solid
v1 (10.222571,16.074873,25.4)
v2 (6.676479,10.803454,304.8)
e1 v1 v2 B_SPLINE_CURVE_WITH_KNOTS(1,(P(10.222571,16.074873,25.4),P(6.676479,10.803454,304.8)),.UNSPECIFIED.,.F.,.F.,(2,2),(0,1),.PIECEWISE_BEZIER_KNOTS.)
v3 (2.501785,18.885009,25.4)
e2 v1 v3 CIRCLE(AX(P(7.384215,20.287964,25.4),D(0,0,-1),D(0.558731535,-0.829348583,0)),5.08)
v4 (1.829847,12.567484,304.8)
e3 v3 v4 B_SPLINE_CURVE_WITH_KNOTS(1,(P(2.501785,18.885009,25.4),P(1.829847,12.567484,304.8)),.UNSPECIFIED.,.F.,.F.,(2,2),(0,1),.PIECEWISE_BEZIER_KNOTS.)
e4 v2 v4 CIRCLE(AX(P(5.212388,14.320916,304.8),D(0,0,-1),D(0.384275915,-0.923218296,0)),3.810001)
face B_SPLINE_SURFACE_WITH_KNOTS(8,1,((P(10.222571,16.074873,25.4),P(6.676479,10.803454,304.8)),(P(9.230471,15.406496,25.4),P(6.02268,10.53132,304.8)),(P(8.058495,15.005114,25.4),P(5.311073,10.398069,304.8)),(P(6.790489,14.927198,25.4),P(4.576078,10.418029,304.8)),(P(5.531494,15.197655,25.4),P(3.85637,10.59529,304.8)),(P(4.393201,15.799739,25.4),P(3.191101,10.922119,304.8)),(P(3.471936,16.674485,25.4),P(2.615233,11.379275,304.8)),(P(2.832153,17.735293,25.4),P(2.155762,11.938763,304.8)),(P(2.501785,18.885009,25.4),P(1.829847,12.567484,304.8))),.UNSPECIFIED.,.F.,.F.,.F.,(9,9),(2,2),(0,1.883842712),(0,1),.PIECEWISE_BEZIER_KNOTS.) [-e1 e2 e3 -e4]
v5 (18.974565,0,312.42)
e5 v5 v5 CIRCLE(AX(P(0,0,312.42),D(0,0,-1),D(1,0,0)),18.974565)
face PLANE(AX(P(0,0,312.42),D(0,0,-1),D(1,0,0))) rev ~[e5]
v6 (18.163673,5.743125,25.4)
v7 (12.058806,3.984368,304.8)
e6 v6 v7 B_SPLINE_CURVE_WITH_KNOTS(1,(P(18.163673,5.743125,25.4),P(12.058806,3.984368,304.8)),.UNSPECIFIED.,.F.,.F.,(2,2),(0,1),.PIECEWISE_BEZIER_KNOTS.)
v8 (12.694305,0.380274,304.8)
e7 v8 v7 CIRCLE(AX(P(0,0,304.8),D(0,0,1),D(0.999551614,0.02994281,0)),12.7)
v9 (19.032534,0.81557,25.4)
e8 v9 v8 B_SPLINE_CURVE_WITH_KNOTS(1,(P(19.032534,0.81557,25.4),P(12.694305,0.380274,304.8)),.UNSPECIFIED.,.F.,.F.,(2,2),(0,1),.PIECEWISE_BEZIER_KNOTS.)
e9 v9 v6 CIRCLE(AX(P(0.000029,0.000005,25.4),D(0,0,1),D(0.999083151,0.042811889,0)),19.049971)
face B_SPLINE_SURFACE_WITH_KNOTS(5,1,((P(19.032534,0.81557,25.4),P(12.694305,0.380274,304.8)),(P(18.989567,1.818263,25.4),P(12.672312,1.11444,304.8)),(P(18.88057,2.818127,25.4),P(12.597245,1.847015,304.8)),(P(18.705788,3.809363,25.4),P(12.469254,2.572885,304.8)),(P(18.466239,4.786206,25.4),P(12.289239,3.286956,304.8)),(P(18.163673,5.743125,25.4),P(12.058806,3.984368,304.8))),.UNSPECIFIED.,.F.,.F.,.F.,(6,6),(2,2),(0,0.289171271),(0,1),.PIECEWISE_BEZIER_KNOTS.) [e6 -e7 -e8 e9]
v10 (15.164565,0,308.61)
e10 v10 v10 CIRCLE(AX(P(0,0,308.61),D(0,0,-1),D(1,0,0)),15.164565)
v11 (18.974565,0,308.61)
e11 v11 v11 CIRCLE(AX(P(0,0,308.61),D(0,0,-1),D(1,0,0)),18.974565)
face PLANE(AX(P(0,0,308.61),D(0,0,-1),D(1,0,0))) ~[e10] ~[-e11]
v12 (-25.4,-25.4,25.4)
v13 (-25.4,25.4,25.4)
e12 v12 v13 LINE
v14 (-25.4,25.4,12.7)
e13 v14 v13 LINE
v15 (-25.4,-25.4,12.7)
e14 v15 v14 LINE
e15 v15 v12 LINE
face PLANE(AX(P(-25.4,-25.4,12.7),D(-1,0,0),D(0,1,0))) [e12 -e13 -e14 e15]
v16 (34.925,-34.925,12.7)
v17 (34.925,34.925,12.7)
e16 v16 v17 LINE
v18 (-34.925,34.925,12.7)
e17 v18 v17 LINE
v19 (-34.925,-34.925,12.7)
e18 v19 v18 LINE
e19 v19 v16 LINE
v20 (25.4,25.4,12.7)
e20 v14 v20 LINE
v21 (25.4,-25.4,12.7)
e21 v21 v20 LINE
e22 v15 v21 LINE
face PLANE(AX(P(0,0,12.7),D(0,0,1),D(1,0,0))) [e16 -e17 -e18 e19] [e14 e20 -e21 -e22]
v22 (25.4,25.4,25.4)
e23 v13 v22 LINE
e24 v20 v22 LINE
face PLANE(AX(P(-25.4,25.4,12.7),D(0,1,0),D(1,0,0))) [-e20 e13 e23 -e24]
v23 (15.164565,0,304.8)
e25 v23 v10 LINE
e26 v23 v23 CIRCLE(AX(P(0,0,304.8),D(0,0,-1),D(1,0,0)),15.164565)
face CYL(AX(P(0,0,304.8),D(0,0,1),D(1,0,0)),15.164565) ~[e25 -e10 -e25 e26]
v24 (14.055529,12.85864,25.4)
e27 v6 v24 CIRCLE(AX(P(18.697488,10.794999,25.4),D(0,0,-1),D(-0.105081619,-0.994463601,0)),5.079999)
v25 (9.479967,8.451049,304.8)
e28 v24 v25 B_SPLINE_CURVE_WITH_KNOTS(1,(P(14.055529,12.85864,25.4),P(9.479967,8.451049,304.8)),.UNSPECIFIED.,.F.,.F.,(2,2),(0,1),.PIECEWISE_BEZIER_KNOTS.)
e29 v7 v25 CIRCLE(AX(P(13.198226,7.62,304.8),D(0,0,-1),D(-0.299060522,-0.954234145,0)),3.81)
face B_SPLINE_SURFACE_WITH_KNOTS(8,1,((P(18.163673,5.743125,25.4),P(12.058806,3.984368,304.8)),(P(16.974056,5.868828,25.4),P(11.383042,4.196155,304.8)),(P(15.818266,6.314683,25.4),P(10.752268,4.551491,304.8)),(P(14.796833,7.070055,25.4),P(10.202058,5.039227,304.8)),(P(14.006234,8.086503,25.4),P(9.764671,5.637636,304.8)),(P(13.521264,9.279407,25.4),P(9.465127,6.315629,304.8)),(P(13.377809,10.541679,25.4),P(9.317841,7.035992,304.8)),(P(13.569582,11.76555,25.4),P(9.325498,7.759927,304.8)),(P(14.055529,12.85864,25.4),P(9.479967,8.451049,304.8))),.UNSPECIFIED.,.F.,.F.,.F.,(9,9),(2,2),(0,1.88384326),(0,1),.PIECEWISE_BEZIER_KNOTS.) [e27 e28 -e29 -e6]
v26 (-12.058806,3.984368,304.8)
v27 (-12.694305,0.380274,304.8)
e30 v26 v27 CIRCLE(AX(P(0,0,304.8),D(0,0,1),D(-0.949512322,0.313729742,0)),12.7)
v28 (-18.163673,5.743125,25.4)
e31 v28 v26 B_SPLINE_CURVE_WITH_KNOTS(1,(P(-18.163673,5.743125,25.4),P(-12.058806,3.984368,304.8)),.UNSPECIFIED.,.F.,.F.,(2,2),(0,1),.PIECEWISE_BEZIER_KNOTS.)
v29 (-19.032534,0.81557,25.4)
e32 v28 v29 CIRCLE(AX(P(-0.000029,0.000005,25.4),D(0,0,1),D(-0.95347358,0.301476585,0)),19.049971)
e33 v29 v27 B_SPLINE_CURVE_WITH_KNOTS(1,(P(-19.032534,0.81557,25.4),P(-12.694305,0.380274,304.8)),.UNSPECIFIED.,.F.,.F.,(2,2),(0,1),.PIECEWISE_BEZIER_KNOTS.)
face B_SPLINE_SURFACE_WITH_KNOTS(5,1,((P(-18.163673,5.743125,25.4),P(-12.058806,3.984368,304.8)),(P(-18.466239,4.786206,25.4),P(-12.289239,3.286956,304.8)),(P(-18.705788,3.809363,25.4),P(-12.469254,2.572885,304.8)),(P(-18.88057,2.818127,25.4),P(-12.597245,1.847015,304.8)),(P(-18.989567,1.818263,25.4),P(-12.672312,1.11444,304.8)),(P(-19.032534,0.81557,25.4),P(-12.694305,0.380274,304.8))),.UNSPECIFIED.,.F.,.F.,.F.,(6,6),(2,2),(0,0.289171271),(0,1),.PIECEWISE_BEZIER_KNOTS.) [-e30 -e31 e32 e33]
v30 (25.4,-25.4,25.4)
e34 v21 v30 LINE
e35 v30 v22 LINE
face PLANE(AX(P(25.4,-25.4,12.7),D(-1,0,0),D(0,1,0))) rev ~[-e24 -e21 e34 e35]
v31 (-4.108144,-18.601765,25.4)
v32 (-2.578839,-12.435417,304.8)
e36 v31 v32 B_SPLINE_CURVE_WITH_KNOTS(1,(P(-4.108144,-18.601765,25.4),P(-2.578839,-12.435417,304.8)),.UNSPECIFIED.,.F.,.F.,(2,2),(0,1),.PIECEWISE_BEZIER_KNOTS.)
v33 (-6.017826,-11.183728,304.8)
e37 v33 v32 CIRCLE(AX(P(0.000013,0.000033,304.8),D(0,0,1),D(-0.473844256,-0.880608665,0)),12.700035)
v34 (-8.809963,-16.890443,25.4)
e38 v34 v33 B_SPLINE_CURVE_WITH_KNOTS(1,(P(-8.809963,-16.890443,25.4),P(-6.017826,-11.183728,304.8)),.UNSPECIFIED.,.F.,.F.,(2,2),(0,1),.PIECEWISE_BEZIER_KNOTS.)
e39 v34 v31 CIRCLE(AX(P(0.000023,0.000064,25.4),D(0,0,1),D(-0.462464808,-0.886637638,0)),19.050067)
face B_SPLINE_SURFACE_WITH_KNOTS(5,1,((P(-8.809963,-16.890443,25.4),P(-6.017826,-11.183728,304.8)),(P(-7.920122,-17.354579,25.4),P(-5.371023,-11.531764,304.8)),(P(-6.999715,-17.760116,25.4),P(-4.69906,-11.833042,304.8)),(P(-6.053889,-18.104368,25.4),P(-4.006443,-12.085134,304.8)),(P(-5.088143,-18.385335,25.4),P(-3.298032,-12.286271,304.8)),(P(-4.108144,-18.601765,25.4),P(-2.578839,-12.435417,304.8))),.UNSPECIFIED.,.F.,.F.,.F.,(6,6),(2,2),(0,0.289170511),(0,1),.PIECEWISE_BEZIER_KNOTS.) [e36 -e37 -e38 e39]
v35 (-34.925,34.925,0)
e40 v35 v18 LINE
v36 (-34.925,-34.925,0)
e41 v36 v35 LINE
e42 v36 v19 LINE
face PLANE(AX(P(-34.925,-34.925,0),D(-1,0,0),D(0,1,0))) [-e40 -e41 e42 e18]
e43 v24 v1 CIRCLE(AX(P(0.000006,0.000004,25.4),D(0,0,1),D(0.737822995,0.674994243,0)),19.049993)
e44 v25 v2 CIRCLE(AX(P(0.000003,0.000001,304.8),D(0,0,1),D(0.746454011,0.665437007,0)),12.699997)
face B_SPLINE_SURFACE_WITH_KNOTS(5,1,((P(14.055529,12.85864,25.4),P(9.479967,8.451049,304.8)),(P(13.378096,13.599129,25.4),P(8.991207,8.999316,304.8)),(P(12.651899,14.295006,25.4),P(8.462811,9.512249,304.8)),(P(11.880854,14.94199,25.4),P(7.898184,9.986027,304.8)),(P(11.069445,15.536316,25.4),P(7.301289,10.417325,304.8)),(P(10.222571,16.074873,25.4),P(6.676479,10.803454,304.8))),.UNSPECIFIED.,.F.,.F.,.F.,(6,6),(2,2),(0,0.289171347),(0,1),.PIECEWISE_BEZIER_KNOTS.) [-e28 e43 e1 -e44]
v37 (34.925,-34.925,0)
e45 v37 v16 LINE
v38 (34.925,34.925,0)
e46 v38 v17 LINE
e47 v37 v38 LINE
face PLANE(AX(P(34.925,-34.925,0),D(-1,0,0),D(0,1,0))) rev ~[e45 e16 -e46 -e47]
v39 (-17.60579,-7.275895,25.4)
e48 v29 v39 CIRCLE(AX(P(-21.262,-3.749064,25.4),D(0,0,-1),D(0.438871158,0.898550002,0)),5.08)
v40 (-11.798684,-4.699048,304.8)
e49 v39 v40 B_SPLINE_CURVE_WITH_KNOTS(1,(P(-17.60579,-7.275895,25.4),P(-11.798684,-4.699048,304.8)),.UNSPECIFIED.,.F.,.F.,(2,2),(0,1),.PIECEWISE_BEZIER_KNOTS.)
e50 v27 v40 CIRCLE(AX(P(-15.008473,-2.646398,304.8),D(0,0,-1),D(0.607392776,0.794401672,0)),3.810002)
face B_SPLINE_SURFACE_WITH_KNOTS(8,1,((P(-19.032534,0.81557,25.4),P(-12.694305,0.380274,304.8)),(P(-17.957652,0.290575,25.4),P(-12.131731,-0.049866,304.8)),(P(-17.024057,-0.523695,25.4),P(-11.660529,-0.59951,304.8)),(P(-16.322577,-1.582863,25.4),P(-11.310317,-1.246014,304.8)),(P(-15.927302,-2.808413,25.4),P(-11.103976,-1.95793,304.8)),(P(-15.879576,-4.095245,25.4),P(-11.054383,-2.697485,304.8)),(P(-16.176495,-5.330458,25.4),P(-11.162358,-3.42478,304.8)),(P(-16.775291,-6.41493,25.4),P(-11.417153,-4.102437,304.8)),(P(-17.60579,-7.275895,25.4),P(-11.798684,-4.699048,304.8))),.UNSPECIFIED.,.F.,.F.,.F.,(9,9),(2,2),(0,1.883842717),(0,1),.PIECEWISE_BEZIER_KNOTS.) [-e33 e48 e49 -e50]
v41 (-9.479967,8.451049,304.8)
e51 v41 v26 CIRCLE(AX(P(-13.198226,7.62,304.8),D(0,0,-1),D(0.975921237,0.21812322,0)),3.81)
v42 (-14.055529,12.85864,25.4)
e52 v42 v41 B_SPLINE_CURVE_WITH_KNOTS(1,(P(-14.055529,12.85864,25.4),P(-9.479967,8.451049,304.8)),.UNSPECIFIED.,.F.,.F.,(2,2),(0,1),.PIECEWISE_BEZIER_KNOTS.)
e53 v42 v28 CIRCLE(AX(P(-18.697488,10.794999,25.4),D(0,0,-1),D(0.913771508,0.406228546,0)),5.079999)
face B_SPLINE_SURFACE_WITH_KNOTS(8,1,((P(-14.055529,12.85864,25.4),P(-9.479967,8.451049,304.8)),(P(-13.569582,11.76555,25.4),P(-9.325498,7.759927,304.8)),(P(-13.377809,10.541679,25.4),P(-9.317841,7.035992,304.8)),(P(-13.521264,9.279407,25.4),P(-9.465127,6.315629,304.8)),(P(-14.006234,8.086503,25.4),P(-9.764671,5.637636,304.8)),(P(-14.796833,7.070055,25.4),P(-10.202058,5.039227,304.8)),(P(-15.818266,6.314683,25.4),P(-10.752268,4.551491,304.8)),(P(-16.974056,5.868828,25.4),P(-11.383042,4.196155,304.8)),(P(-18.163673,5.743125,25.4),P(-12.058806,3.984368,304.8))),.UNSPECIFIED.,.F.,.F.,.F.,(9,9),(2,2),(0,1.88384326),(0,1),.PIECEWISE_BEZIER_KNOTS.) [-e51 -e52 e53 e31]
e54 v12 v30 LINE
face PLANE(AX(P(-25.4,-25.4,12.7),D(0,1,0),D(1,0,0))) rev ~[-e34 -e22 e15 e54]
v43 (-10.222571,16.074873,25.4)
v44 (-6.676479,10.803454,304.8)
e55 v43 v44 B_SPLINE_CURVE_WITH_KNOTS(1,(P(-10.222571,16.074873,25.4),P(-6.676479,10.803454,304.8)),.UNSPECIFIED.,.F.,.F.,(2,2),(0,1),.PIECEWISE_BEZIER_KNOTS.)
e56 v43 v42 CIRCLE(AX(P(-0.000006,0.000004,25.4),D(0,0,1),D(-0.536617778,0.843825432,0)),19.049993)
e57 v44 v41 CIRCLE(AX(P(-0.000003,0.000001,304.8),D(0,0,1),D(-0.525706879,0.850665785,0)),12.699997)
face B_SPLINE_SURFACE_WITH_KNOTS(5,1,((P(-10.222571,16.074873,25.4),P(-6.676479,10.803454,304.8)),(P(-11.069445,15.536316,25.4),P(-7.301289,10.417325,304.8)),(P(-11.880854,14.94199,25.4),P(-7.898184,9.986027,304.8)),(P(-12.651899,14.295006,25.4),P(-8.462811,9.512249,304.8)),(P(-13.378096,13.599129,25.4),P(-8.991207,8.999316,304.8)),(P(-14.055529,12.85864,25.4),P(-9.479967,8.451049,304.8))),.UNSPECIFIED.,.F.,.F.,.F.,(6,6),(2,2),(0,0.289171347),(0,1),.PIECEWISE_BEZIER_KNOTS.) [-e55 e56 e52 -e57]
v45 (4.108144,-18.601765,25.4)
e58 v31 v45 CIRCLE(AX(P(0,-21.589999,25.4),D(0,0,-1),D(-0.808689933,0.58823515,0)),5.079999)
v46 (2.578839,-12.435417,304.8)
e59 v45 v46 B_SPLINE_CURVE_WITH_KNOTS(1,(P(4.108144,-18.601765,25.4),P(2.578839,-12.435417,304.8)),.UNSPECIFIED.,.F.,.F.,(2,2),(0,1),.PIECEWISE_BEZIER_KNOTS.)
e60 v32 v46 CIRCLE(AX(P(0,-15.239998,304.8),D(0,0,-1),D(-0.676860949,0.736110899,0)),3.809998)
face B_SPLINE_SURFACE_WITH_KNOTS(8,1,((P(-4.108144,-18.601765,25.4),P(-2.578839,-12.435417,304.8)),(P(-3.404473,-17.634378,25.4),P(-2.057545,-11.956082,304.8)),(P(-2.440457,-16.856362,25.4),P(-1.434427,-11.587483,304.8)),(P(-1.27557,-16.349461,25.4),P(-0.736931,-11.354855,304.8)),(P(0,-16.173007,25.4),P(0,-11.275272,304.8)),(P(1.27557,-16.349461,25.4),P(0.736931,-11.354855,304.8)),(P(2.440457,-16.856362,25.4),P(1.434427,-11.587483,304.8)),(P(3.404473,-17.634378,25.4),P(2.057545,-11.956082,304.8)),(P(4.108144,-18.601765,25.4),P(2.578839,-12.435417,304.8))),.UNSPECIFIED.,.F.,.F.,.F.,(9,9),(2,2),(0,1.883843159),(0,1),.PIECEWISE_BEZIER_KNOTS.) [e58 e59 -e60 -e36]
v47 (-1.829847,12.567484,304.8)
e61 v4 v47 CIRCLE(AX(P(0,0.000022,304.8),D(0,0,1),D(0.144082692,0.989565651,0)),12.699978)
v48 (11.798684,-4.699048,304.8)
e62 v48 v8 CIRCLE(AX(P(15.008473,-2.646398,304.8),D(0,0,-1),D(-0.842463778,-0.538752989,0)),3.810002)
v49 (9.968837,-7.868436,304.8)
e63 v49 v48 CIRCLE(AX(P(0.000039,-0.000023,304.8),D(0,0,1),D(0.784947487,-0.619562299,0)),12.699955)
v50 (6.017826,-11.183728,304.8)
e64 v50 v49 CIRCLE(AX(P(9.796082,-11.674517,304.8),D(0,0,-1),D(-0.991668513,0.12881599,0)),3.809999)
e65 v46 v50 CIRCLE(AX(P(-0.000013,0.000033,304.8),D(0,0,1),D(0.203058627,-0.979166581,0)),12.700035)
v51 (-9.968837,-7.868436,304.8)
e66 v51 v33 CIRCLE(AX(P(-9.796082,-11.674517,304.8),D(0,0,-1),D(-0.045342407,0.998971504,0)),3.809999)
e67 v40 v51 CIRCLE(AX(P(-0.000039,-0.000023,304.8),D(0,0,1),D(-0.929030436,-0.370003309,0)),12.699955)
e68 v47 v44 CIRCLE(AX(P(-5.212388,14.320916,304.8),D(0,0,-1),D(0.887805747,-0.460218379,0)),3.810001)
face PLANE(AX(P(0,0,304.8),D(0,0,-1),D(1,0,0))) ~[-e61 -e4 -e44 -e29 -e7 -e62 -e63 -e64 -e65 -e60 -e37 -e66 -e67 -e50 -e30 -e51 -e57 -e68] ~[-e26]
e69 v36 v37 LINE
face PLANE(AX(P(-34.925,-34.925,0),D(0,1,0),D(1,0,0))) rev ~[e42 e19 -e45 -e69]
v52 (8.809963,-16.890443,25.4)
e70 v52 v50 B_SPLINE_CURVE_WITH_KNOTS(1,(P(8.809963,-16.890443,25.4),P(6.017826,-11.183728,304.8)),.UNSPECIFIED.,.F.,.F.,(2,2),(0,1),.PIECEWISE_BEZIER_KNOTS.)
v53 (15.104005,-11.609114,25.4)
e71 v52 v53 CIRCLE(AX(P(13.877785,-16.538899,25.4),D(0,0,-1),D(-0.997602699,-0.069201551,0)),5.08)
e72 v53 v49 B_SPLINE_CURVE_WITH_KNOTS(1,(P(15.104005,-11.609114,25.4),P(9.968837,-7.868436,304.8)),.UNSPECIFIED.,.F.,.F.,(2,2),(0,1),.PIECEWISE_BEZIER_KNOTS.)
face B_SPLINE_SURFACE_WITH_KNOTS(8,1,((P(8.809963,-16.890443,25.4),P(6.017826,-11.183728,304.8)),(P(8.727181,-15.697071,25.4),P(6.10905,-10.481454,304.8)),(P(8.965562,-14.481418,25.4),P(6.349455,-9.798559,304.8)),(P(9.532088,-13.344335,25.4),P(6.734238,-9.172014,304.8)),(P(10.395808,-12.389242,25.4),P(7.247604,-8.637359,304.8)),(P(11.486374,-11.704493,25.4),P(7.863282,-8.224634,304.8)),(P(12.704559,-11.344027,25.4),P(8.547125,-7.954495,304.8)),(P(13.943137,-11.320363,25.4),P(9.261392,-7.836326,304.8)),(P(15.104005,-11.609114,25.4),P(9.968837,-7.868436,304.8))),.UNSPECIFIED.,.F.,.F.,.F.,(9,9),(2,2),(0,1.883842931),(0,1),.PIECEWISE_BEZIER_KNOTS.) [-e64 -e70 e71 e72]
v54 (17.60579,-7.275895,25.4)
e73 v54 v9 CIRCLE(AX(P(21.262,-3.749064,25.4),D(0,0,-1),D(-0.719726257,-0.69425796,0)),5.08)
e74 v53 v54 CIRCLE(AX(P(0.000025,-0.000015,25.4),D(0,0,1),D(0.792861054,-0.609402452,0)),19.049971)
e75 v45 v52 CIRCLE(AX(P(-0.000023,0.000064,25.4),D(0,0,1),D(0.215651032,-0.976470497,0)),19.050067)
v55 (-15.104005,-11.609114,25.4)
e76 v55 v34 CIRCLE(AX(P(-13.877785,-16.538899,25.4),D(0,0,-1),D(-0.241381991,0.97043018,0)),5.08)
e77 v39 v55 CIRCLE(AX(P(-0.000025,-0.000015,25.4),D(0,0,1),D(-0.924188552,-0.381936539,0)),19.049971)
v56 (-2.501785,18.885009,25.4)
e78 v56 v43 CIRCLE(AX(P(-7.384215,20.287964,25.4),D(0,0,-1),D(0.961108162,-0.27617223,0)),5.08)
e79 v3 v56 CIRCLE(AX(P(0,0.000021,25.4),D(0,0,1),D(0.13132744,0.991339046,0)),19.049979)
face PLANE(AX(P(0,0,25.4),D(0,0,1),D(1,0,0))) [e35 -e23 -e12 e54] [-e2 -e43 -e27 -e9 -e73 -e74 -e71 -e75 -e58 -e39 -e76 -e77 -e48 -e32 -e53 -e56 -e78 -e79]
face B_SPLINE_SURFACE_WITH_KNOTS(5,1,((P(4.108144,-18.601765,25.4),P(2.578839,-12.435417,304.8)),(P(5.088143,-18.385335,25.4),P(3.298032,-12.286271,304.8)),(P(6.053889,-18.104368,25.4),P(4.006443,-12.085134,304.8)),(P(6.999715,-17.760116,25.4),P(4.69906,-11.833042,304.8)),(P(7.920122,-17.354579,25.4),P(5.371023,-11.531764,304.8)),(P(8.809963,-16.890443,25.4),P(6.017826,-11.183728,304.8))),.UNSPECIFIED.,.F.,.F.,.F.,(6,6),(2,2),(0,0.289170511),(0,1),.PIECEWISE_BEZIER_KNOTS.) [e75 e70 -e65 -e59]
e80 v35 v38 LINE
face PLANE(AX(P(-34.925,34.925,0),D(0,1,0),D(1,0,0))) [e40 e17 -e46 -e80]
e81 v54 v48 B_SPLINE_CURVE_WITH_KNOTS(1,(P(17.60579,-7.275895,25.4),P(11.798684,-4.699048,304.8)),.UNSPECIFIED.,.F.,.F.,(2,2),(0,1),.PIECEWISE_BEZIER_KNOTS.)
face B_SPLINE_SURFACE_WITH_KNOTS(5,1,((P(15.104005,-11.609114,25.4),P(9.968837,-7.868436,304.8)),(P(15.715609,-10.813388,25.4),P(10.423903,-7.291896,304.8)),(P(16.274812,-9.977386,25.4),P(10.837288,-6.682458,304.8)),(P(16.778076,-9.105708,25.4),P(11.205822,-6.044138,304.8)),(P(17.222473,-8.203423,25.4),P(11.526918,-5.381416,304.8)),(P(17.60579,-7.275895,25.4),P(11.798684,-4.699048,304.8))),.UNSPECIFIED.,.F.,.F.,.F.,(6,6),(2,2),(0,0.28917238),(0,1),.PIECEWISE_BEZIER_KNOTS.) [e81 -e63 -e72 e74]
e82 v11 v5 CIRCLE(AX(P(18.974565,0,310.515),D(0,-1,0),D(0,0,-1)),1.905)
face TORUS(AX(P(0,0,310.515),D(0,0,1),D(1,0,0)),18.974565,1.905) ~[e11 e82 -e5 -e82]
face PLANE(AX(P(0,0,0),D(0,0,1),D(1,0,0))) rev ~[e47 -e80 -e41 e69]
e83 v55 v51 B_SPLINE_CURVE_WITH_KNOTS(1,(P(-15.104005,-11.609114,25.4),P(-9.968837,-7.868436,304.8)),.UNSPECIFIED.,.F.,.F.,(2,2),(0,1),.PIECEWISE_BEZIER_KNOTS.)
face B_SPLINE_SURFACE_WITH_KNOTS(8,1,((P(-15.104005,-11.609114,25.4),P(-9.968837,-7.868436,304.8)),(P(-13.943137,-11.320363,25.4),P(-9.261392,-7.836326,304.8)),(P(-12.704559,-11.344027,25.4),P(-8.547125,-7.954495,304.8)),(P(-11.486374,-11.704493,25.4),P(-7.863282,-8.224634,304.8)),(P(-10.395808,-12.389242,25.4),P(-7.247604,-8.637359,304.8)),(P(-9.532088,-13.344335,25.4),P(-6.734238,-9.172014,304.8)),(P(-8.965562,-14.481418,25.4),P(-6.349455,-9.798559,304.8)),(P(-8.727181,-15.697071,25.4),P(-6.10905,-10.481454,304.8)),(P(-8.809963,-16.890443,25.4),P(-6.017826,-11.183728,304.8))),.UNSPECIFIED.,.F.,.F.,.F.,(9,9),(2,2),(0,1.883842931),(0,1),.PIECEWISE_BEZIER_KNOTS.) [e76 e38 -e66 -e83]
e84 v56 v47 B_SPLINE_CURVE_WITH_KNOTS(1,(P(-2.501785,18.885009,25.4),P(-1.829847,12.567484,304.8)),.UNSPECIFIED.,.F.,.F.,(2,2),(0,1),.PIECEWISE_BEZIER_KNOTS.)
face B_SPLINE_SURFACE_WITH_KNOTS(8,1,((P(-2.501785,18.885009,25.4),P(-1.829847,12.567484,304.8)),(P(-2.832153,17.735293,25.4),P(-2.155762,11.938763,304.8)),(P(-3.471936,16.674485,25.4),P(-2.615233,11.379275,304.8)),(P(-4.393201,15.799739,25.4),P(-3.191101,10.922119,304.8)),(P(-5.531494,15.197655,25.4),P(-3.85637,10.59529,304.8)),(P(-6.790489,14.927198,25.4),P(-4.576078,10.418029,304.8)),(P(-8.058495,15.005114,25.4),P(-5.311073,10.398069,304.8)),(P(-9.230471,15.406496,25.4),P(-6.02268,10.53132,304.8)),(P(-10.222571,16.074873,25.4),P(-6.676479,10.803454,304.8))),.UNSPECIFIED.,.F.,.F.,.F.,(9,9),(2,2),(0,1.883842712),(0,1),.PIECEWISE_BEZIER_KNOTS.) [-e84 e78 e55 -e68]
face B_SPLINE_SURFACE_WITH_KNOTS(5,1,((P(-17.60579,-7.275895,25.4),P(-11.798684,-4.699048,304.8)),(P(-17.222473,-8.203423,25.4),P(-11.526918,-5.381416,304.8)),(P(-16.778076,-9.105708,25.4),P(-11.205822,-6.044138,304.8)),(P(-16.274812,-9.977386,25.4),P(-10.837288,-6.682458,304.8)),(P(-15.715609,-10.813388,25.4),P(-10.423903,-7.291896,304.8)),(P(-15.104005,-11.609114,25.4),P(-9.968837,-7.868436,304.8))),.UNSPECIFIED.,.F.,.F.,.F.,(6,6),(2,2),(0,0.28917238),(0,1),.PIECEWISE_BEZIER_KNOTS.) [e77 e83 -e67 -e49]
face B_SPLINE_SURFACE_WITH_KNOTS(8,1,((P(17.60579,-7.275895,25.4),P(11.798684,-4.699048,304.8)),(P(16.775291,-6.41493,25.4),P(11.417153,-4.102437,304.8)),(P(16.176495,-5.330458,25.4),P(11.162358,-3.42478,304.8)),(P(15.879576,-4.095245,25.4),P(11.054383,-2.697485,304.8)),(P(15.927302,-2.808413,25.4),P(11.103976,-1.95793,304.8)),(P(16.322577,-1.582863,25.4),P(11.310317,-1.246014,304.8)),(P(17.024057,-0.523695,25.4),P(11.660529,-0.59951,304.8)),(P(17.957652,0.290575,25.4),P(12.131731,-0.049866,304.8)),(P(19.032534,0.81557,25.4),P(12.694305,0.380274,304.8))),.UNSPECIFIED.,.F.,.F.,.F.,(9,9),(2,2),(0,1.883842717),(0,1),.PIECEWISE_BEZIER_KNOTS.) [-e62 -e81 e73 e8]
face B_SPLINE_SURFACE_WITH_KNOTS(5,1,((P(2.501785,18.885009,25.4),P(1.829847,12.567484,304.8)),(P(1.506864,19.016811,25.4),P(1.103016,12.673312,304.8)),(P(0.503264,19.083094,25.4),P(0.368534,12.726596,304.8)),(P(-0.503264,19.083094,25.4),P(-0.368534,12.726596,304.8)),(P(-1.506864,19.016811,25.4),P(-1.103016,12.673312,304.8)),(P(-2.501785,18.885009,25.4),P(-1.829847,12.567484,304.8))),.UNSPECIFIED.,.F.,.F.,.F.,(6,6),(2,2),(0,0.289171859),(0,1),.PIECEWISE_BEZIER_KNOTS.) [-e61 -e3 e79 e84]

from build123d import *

# Parameters (mm, degrees)
F0_W     = 69.85
F0_H     = 69.85
F1_DEPTH = 12.7
F2_W     = 50.8
F2_H     = 50.8
F3_DEPTH = 12.7


with BuildPart() as f1:
    # F0 (on Top) → F1 (new body)
    with BuildSketch(Plane.XY):
        Rectangle(F0_W, F0_H)
    extrude(amount=F1_DEPTH)

    # F2 (on face) → F3 (join)
    with BuildSketch(Plane.XY.offset(12.7)):
        Rectangle(F2_W, F2_H)
    extrude(amount=F3_DEPTH)

    # F4 (on face) → F7 section 0
    with BuildSketch(Plane.XY.offset(25.4)):
        with BuildLine():
            ThreePointArc((17.60579, -7.275895), (16.259176, -2.866931), (19.032534, 0.81557))
            ThreePointArc((19.032534, 0.81557), (18.760588, 3.307998), (18.163673, 5.743125))
            ThreePointArc((18.163673, 5.743125), (14.298079, 8.255), (14.055529, 12.85864))
            ThreePointArc((14.055529, 12.85864), (12.245104, 14.593147), (10.222571, 16.074873))
            ThreePointArc((10.222571, 16.074873), (5.646753, 15.514325), (2.501785, 18.885009))
            ThreePointArc((2.501785, 18.885009), (0, 19.05), (-2.501785, 18.885009))
            ThreePointArc((-2.501785, 18.885009), (-5.646753, 15.514325), (-10.222571, 16.074873))
            ThreePointArc((-10.222571, 16.074873), (-12.245104, 14.593147), (-14.055529, 12.85864))
            ThreePointArc((-14.055529, 12.85864), (-14.298079, 8.255), (-18.163673, 5.743125))
            ThreePointArc((-18.163673, 5.743125), (-18.760588, 3.307998), (-19.032534, 0.81557))
            ThreePointArc((-19.032534, 0.81557), (-16.259176, -2.866931), (-17.60579, -7.275895))
            ThreePointArc((-17.60579, -7.275895), (-16.497784, -9.525), (-15.104005, -11.609114))
            ThreePointArc((-15.104005, -11.609114), (-10.612423, -12.647394), (-8.809963, -16.890443))
            ThreePointArc((-8.809963, -16.890443), (-6.515484, -17.901144), (-4.108144, -18.601765))
            ThreePointArc((-4.108144, -18.601765), (0, -16.51), (4.108144, -18.601765))
            ThreePointArc((4.108144, -18.601765), (6.515484, -17.901144), (8.809963, -16.890443))
            ThreePointArc((8.809963, -16.890443), (10.612423, -12.647394), (15.104005, -11.609114))
            ThreePointArc((15.104005, -11.609114), (16.497784, -9.525), (17.60579, -7.275895))
        make_face()
    # F6 (on offset) → F7 section 1
    with BuildSketch(Plane.XY.offset(304.8)):
        with BuildLine():
            ThreePointArc((11.798684, -4.699048), (11.256353, -1.984799), (12.694305, 0.380274))
            ThreePointArc((12.694305, 0.380274), (12.507058, 2.205332), (12.058806, 3.984368))
            ThreePointArc((12.058806, 3.984368), (9.89867, 5.715), (9.479967, 8.451049))
            ThreePointArc((9.479967, 8.451049), (8.163403, 9.728764), (6.676479, 10.803454))
            ThreePointArc((6.676479, 10.803454), (3.90929, 10.740687), (1.829847, 12.567484))
            ThreePointArc((1.829847, 12.567484), (0, 12.7), (-1.829847, 12.567484))
            ThreePointArc((-1.829847, 12.567484), (-3.90929, 10.740687), (-6.676479, 10.803454))
            ThreePointArc((-6.676479, 10.803454), (-8.163403, 9.728764), (-9.479967, 8.451049))
            ThreePointArc((-9.479967, 8.451049), (-9.89867, 5.715), (-12.058806, 3.984368))
            ThreePointArc((-12.058806, 3.984368), (-12.507058, 2.205332), (-12.694305, 0.380274))
            ThreePointArc((-12.694305, 0.380274), (-11.256353, -1.984799), (-11.798684, -4.699048))
            ThreePointArc((-11.798684, -4.699048), (-10.998523, -6.35), (-9.968837, -7.868436))
            ThreePointArc((-9.968837, -7.868436), (-7.347062, -8.755888), (-6.017826, -11.183728))
            ThreePointArc((-6.017826, -11.183728), (-4.343656, -11.934096), (-2.578839, -12.435417))
            ThreePointArc((-2.578839, -12.435417), (0, -11.43), (2.578839, -12.435417))
            ThreePointArc((2.578839, -12.435417), (4.343656, -11.934096), (6.017826, -11.183728))
            ThreePointArc((6.017826, -11.183728), (7.347062, -8.755888), (9.968837, -7.868436))
            ThreePointArc((9.968837, -7.868436), (10.998523, -6.35), (11.798684, -4.699048))
        make_face()
    loft()

    # F9 (on Front) → F10 (revolve)
    with BuildSketch(Plane.XZ):
        with BuildLine():
            Line((0, 304.8), (15.164565, 304.8))
            Line((15.164565, 304.8), (15.164565, 308.61))
            Line((15.164565, 308.61), (18.974565, 308.61))
            ThreePointArc((18.974565, 308.61), (20.879565, 310.515), (18.974565, 312.42))
            Line((18.974565, 312.42), (0, 312.42))
            Line((0, 312.42), (0, 304.8))
        make_face()
    revolve(axis=Axis((0, 0, 308.61), (0, 0, -1)))


solid = f1.part
